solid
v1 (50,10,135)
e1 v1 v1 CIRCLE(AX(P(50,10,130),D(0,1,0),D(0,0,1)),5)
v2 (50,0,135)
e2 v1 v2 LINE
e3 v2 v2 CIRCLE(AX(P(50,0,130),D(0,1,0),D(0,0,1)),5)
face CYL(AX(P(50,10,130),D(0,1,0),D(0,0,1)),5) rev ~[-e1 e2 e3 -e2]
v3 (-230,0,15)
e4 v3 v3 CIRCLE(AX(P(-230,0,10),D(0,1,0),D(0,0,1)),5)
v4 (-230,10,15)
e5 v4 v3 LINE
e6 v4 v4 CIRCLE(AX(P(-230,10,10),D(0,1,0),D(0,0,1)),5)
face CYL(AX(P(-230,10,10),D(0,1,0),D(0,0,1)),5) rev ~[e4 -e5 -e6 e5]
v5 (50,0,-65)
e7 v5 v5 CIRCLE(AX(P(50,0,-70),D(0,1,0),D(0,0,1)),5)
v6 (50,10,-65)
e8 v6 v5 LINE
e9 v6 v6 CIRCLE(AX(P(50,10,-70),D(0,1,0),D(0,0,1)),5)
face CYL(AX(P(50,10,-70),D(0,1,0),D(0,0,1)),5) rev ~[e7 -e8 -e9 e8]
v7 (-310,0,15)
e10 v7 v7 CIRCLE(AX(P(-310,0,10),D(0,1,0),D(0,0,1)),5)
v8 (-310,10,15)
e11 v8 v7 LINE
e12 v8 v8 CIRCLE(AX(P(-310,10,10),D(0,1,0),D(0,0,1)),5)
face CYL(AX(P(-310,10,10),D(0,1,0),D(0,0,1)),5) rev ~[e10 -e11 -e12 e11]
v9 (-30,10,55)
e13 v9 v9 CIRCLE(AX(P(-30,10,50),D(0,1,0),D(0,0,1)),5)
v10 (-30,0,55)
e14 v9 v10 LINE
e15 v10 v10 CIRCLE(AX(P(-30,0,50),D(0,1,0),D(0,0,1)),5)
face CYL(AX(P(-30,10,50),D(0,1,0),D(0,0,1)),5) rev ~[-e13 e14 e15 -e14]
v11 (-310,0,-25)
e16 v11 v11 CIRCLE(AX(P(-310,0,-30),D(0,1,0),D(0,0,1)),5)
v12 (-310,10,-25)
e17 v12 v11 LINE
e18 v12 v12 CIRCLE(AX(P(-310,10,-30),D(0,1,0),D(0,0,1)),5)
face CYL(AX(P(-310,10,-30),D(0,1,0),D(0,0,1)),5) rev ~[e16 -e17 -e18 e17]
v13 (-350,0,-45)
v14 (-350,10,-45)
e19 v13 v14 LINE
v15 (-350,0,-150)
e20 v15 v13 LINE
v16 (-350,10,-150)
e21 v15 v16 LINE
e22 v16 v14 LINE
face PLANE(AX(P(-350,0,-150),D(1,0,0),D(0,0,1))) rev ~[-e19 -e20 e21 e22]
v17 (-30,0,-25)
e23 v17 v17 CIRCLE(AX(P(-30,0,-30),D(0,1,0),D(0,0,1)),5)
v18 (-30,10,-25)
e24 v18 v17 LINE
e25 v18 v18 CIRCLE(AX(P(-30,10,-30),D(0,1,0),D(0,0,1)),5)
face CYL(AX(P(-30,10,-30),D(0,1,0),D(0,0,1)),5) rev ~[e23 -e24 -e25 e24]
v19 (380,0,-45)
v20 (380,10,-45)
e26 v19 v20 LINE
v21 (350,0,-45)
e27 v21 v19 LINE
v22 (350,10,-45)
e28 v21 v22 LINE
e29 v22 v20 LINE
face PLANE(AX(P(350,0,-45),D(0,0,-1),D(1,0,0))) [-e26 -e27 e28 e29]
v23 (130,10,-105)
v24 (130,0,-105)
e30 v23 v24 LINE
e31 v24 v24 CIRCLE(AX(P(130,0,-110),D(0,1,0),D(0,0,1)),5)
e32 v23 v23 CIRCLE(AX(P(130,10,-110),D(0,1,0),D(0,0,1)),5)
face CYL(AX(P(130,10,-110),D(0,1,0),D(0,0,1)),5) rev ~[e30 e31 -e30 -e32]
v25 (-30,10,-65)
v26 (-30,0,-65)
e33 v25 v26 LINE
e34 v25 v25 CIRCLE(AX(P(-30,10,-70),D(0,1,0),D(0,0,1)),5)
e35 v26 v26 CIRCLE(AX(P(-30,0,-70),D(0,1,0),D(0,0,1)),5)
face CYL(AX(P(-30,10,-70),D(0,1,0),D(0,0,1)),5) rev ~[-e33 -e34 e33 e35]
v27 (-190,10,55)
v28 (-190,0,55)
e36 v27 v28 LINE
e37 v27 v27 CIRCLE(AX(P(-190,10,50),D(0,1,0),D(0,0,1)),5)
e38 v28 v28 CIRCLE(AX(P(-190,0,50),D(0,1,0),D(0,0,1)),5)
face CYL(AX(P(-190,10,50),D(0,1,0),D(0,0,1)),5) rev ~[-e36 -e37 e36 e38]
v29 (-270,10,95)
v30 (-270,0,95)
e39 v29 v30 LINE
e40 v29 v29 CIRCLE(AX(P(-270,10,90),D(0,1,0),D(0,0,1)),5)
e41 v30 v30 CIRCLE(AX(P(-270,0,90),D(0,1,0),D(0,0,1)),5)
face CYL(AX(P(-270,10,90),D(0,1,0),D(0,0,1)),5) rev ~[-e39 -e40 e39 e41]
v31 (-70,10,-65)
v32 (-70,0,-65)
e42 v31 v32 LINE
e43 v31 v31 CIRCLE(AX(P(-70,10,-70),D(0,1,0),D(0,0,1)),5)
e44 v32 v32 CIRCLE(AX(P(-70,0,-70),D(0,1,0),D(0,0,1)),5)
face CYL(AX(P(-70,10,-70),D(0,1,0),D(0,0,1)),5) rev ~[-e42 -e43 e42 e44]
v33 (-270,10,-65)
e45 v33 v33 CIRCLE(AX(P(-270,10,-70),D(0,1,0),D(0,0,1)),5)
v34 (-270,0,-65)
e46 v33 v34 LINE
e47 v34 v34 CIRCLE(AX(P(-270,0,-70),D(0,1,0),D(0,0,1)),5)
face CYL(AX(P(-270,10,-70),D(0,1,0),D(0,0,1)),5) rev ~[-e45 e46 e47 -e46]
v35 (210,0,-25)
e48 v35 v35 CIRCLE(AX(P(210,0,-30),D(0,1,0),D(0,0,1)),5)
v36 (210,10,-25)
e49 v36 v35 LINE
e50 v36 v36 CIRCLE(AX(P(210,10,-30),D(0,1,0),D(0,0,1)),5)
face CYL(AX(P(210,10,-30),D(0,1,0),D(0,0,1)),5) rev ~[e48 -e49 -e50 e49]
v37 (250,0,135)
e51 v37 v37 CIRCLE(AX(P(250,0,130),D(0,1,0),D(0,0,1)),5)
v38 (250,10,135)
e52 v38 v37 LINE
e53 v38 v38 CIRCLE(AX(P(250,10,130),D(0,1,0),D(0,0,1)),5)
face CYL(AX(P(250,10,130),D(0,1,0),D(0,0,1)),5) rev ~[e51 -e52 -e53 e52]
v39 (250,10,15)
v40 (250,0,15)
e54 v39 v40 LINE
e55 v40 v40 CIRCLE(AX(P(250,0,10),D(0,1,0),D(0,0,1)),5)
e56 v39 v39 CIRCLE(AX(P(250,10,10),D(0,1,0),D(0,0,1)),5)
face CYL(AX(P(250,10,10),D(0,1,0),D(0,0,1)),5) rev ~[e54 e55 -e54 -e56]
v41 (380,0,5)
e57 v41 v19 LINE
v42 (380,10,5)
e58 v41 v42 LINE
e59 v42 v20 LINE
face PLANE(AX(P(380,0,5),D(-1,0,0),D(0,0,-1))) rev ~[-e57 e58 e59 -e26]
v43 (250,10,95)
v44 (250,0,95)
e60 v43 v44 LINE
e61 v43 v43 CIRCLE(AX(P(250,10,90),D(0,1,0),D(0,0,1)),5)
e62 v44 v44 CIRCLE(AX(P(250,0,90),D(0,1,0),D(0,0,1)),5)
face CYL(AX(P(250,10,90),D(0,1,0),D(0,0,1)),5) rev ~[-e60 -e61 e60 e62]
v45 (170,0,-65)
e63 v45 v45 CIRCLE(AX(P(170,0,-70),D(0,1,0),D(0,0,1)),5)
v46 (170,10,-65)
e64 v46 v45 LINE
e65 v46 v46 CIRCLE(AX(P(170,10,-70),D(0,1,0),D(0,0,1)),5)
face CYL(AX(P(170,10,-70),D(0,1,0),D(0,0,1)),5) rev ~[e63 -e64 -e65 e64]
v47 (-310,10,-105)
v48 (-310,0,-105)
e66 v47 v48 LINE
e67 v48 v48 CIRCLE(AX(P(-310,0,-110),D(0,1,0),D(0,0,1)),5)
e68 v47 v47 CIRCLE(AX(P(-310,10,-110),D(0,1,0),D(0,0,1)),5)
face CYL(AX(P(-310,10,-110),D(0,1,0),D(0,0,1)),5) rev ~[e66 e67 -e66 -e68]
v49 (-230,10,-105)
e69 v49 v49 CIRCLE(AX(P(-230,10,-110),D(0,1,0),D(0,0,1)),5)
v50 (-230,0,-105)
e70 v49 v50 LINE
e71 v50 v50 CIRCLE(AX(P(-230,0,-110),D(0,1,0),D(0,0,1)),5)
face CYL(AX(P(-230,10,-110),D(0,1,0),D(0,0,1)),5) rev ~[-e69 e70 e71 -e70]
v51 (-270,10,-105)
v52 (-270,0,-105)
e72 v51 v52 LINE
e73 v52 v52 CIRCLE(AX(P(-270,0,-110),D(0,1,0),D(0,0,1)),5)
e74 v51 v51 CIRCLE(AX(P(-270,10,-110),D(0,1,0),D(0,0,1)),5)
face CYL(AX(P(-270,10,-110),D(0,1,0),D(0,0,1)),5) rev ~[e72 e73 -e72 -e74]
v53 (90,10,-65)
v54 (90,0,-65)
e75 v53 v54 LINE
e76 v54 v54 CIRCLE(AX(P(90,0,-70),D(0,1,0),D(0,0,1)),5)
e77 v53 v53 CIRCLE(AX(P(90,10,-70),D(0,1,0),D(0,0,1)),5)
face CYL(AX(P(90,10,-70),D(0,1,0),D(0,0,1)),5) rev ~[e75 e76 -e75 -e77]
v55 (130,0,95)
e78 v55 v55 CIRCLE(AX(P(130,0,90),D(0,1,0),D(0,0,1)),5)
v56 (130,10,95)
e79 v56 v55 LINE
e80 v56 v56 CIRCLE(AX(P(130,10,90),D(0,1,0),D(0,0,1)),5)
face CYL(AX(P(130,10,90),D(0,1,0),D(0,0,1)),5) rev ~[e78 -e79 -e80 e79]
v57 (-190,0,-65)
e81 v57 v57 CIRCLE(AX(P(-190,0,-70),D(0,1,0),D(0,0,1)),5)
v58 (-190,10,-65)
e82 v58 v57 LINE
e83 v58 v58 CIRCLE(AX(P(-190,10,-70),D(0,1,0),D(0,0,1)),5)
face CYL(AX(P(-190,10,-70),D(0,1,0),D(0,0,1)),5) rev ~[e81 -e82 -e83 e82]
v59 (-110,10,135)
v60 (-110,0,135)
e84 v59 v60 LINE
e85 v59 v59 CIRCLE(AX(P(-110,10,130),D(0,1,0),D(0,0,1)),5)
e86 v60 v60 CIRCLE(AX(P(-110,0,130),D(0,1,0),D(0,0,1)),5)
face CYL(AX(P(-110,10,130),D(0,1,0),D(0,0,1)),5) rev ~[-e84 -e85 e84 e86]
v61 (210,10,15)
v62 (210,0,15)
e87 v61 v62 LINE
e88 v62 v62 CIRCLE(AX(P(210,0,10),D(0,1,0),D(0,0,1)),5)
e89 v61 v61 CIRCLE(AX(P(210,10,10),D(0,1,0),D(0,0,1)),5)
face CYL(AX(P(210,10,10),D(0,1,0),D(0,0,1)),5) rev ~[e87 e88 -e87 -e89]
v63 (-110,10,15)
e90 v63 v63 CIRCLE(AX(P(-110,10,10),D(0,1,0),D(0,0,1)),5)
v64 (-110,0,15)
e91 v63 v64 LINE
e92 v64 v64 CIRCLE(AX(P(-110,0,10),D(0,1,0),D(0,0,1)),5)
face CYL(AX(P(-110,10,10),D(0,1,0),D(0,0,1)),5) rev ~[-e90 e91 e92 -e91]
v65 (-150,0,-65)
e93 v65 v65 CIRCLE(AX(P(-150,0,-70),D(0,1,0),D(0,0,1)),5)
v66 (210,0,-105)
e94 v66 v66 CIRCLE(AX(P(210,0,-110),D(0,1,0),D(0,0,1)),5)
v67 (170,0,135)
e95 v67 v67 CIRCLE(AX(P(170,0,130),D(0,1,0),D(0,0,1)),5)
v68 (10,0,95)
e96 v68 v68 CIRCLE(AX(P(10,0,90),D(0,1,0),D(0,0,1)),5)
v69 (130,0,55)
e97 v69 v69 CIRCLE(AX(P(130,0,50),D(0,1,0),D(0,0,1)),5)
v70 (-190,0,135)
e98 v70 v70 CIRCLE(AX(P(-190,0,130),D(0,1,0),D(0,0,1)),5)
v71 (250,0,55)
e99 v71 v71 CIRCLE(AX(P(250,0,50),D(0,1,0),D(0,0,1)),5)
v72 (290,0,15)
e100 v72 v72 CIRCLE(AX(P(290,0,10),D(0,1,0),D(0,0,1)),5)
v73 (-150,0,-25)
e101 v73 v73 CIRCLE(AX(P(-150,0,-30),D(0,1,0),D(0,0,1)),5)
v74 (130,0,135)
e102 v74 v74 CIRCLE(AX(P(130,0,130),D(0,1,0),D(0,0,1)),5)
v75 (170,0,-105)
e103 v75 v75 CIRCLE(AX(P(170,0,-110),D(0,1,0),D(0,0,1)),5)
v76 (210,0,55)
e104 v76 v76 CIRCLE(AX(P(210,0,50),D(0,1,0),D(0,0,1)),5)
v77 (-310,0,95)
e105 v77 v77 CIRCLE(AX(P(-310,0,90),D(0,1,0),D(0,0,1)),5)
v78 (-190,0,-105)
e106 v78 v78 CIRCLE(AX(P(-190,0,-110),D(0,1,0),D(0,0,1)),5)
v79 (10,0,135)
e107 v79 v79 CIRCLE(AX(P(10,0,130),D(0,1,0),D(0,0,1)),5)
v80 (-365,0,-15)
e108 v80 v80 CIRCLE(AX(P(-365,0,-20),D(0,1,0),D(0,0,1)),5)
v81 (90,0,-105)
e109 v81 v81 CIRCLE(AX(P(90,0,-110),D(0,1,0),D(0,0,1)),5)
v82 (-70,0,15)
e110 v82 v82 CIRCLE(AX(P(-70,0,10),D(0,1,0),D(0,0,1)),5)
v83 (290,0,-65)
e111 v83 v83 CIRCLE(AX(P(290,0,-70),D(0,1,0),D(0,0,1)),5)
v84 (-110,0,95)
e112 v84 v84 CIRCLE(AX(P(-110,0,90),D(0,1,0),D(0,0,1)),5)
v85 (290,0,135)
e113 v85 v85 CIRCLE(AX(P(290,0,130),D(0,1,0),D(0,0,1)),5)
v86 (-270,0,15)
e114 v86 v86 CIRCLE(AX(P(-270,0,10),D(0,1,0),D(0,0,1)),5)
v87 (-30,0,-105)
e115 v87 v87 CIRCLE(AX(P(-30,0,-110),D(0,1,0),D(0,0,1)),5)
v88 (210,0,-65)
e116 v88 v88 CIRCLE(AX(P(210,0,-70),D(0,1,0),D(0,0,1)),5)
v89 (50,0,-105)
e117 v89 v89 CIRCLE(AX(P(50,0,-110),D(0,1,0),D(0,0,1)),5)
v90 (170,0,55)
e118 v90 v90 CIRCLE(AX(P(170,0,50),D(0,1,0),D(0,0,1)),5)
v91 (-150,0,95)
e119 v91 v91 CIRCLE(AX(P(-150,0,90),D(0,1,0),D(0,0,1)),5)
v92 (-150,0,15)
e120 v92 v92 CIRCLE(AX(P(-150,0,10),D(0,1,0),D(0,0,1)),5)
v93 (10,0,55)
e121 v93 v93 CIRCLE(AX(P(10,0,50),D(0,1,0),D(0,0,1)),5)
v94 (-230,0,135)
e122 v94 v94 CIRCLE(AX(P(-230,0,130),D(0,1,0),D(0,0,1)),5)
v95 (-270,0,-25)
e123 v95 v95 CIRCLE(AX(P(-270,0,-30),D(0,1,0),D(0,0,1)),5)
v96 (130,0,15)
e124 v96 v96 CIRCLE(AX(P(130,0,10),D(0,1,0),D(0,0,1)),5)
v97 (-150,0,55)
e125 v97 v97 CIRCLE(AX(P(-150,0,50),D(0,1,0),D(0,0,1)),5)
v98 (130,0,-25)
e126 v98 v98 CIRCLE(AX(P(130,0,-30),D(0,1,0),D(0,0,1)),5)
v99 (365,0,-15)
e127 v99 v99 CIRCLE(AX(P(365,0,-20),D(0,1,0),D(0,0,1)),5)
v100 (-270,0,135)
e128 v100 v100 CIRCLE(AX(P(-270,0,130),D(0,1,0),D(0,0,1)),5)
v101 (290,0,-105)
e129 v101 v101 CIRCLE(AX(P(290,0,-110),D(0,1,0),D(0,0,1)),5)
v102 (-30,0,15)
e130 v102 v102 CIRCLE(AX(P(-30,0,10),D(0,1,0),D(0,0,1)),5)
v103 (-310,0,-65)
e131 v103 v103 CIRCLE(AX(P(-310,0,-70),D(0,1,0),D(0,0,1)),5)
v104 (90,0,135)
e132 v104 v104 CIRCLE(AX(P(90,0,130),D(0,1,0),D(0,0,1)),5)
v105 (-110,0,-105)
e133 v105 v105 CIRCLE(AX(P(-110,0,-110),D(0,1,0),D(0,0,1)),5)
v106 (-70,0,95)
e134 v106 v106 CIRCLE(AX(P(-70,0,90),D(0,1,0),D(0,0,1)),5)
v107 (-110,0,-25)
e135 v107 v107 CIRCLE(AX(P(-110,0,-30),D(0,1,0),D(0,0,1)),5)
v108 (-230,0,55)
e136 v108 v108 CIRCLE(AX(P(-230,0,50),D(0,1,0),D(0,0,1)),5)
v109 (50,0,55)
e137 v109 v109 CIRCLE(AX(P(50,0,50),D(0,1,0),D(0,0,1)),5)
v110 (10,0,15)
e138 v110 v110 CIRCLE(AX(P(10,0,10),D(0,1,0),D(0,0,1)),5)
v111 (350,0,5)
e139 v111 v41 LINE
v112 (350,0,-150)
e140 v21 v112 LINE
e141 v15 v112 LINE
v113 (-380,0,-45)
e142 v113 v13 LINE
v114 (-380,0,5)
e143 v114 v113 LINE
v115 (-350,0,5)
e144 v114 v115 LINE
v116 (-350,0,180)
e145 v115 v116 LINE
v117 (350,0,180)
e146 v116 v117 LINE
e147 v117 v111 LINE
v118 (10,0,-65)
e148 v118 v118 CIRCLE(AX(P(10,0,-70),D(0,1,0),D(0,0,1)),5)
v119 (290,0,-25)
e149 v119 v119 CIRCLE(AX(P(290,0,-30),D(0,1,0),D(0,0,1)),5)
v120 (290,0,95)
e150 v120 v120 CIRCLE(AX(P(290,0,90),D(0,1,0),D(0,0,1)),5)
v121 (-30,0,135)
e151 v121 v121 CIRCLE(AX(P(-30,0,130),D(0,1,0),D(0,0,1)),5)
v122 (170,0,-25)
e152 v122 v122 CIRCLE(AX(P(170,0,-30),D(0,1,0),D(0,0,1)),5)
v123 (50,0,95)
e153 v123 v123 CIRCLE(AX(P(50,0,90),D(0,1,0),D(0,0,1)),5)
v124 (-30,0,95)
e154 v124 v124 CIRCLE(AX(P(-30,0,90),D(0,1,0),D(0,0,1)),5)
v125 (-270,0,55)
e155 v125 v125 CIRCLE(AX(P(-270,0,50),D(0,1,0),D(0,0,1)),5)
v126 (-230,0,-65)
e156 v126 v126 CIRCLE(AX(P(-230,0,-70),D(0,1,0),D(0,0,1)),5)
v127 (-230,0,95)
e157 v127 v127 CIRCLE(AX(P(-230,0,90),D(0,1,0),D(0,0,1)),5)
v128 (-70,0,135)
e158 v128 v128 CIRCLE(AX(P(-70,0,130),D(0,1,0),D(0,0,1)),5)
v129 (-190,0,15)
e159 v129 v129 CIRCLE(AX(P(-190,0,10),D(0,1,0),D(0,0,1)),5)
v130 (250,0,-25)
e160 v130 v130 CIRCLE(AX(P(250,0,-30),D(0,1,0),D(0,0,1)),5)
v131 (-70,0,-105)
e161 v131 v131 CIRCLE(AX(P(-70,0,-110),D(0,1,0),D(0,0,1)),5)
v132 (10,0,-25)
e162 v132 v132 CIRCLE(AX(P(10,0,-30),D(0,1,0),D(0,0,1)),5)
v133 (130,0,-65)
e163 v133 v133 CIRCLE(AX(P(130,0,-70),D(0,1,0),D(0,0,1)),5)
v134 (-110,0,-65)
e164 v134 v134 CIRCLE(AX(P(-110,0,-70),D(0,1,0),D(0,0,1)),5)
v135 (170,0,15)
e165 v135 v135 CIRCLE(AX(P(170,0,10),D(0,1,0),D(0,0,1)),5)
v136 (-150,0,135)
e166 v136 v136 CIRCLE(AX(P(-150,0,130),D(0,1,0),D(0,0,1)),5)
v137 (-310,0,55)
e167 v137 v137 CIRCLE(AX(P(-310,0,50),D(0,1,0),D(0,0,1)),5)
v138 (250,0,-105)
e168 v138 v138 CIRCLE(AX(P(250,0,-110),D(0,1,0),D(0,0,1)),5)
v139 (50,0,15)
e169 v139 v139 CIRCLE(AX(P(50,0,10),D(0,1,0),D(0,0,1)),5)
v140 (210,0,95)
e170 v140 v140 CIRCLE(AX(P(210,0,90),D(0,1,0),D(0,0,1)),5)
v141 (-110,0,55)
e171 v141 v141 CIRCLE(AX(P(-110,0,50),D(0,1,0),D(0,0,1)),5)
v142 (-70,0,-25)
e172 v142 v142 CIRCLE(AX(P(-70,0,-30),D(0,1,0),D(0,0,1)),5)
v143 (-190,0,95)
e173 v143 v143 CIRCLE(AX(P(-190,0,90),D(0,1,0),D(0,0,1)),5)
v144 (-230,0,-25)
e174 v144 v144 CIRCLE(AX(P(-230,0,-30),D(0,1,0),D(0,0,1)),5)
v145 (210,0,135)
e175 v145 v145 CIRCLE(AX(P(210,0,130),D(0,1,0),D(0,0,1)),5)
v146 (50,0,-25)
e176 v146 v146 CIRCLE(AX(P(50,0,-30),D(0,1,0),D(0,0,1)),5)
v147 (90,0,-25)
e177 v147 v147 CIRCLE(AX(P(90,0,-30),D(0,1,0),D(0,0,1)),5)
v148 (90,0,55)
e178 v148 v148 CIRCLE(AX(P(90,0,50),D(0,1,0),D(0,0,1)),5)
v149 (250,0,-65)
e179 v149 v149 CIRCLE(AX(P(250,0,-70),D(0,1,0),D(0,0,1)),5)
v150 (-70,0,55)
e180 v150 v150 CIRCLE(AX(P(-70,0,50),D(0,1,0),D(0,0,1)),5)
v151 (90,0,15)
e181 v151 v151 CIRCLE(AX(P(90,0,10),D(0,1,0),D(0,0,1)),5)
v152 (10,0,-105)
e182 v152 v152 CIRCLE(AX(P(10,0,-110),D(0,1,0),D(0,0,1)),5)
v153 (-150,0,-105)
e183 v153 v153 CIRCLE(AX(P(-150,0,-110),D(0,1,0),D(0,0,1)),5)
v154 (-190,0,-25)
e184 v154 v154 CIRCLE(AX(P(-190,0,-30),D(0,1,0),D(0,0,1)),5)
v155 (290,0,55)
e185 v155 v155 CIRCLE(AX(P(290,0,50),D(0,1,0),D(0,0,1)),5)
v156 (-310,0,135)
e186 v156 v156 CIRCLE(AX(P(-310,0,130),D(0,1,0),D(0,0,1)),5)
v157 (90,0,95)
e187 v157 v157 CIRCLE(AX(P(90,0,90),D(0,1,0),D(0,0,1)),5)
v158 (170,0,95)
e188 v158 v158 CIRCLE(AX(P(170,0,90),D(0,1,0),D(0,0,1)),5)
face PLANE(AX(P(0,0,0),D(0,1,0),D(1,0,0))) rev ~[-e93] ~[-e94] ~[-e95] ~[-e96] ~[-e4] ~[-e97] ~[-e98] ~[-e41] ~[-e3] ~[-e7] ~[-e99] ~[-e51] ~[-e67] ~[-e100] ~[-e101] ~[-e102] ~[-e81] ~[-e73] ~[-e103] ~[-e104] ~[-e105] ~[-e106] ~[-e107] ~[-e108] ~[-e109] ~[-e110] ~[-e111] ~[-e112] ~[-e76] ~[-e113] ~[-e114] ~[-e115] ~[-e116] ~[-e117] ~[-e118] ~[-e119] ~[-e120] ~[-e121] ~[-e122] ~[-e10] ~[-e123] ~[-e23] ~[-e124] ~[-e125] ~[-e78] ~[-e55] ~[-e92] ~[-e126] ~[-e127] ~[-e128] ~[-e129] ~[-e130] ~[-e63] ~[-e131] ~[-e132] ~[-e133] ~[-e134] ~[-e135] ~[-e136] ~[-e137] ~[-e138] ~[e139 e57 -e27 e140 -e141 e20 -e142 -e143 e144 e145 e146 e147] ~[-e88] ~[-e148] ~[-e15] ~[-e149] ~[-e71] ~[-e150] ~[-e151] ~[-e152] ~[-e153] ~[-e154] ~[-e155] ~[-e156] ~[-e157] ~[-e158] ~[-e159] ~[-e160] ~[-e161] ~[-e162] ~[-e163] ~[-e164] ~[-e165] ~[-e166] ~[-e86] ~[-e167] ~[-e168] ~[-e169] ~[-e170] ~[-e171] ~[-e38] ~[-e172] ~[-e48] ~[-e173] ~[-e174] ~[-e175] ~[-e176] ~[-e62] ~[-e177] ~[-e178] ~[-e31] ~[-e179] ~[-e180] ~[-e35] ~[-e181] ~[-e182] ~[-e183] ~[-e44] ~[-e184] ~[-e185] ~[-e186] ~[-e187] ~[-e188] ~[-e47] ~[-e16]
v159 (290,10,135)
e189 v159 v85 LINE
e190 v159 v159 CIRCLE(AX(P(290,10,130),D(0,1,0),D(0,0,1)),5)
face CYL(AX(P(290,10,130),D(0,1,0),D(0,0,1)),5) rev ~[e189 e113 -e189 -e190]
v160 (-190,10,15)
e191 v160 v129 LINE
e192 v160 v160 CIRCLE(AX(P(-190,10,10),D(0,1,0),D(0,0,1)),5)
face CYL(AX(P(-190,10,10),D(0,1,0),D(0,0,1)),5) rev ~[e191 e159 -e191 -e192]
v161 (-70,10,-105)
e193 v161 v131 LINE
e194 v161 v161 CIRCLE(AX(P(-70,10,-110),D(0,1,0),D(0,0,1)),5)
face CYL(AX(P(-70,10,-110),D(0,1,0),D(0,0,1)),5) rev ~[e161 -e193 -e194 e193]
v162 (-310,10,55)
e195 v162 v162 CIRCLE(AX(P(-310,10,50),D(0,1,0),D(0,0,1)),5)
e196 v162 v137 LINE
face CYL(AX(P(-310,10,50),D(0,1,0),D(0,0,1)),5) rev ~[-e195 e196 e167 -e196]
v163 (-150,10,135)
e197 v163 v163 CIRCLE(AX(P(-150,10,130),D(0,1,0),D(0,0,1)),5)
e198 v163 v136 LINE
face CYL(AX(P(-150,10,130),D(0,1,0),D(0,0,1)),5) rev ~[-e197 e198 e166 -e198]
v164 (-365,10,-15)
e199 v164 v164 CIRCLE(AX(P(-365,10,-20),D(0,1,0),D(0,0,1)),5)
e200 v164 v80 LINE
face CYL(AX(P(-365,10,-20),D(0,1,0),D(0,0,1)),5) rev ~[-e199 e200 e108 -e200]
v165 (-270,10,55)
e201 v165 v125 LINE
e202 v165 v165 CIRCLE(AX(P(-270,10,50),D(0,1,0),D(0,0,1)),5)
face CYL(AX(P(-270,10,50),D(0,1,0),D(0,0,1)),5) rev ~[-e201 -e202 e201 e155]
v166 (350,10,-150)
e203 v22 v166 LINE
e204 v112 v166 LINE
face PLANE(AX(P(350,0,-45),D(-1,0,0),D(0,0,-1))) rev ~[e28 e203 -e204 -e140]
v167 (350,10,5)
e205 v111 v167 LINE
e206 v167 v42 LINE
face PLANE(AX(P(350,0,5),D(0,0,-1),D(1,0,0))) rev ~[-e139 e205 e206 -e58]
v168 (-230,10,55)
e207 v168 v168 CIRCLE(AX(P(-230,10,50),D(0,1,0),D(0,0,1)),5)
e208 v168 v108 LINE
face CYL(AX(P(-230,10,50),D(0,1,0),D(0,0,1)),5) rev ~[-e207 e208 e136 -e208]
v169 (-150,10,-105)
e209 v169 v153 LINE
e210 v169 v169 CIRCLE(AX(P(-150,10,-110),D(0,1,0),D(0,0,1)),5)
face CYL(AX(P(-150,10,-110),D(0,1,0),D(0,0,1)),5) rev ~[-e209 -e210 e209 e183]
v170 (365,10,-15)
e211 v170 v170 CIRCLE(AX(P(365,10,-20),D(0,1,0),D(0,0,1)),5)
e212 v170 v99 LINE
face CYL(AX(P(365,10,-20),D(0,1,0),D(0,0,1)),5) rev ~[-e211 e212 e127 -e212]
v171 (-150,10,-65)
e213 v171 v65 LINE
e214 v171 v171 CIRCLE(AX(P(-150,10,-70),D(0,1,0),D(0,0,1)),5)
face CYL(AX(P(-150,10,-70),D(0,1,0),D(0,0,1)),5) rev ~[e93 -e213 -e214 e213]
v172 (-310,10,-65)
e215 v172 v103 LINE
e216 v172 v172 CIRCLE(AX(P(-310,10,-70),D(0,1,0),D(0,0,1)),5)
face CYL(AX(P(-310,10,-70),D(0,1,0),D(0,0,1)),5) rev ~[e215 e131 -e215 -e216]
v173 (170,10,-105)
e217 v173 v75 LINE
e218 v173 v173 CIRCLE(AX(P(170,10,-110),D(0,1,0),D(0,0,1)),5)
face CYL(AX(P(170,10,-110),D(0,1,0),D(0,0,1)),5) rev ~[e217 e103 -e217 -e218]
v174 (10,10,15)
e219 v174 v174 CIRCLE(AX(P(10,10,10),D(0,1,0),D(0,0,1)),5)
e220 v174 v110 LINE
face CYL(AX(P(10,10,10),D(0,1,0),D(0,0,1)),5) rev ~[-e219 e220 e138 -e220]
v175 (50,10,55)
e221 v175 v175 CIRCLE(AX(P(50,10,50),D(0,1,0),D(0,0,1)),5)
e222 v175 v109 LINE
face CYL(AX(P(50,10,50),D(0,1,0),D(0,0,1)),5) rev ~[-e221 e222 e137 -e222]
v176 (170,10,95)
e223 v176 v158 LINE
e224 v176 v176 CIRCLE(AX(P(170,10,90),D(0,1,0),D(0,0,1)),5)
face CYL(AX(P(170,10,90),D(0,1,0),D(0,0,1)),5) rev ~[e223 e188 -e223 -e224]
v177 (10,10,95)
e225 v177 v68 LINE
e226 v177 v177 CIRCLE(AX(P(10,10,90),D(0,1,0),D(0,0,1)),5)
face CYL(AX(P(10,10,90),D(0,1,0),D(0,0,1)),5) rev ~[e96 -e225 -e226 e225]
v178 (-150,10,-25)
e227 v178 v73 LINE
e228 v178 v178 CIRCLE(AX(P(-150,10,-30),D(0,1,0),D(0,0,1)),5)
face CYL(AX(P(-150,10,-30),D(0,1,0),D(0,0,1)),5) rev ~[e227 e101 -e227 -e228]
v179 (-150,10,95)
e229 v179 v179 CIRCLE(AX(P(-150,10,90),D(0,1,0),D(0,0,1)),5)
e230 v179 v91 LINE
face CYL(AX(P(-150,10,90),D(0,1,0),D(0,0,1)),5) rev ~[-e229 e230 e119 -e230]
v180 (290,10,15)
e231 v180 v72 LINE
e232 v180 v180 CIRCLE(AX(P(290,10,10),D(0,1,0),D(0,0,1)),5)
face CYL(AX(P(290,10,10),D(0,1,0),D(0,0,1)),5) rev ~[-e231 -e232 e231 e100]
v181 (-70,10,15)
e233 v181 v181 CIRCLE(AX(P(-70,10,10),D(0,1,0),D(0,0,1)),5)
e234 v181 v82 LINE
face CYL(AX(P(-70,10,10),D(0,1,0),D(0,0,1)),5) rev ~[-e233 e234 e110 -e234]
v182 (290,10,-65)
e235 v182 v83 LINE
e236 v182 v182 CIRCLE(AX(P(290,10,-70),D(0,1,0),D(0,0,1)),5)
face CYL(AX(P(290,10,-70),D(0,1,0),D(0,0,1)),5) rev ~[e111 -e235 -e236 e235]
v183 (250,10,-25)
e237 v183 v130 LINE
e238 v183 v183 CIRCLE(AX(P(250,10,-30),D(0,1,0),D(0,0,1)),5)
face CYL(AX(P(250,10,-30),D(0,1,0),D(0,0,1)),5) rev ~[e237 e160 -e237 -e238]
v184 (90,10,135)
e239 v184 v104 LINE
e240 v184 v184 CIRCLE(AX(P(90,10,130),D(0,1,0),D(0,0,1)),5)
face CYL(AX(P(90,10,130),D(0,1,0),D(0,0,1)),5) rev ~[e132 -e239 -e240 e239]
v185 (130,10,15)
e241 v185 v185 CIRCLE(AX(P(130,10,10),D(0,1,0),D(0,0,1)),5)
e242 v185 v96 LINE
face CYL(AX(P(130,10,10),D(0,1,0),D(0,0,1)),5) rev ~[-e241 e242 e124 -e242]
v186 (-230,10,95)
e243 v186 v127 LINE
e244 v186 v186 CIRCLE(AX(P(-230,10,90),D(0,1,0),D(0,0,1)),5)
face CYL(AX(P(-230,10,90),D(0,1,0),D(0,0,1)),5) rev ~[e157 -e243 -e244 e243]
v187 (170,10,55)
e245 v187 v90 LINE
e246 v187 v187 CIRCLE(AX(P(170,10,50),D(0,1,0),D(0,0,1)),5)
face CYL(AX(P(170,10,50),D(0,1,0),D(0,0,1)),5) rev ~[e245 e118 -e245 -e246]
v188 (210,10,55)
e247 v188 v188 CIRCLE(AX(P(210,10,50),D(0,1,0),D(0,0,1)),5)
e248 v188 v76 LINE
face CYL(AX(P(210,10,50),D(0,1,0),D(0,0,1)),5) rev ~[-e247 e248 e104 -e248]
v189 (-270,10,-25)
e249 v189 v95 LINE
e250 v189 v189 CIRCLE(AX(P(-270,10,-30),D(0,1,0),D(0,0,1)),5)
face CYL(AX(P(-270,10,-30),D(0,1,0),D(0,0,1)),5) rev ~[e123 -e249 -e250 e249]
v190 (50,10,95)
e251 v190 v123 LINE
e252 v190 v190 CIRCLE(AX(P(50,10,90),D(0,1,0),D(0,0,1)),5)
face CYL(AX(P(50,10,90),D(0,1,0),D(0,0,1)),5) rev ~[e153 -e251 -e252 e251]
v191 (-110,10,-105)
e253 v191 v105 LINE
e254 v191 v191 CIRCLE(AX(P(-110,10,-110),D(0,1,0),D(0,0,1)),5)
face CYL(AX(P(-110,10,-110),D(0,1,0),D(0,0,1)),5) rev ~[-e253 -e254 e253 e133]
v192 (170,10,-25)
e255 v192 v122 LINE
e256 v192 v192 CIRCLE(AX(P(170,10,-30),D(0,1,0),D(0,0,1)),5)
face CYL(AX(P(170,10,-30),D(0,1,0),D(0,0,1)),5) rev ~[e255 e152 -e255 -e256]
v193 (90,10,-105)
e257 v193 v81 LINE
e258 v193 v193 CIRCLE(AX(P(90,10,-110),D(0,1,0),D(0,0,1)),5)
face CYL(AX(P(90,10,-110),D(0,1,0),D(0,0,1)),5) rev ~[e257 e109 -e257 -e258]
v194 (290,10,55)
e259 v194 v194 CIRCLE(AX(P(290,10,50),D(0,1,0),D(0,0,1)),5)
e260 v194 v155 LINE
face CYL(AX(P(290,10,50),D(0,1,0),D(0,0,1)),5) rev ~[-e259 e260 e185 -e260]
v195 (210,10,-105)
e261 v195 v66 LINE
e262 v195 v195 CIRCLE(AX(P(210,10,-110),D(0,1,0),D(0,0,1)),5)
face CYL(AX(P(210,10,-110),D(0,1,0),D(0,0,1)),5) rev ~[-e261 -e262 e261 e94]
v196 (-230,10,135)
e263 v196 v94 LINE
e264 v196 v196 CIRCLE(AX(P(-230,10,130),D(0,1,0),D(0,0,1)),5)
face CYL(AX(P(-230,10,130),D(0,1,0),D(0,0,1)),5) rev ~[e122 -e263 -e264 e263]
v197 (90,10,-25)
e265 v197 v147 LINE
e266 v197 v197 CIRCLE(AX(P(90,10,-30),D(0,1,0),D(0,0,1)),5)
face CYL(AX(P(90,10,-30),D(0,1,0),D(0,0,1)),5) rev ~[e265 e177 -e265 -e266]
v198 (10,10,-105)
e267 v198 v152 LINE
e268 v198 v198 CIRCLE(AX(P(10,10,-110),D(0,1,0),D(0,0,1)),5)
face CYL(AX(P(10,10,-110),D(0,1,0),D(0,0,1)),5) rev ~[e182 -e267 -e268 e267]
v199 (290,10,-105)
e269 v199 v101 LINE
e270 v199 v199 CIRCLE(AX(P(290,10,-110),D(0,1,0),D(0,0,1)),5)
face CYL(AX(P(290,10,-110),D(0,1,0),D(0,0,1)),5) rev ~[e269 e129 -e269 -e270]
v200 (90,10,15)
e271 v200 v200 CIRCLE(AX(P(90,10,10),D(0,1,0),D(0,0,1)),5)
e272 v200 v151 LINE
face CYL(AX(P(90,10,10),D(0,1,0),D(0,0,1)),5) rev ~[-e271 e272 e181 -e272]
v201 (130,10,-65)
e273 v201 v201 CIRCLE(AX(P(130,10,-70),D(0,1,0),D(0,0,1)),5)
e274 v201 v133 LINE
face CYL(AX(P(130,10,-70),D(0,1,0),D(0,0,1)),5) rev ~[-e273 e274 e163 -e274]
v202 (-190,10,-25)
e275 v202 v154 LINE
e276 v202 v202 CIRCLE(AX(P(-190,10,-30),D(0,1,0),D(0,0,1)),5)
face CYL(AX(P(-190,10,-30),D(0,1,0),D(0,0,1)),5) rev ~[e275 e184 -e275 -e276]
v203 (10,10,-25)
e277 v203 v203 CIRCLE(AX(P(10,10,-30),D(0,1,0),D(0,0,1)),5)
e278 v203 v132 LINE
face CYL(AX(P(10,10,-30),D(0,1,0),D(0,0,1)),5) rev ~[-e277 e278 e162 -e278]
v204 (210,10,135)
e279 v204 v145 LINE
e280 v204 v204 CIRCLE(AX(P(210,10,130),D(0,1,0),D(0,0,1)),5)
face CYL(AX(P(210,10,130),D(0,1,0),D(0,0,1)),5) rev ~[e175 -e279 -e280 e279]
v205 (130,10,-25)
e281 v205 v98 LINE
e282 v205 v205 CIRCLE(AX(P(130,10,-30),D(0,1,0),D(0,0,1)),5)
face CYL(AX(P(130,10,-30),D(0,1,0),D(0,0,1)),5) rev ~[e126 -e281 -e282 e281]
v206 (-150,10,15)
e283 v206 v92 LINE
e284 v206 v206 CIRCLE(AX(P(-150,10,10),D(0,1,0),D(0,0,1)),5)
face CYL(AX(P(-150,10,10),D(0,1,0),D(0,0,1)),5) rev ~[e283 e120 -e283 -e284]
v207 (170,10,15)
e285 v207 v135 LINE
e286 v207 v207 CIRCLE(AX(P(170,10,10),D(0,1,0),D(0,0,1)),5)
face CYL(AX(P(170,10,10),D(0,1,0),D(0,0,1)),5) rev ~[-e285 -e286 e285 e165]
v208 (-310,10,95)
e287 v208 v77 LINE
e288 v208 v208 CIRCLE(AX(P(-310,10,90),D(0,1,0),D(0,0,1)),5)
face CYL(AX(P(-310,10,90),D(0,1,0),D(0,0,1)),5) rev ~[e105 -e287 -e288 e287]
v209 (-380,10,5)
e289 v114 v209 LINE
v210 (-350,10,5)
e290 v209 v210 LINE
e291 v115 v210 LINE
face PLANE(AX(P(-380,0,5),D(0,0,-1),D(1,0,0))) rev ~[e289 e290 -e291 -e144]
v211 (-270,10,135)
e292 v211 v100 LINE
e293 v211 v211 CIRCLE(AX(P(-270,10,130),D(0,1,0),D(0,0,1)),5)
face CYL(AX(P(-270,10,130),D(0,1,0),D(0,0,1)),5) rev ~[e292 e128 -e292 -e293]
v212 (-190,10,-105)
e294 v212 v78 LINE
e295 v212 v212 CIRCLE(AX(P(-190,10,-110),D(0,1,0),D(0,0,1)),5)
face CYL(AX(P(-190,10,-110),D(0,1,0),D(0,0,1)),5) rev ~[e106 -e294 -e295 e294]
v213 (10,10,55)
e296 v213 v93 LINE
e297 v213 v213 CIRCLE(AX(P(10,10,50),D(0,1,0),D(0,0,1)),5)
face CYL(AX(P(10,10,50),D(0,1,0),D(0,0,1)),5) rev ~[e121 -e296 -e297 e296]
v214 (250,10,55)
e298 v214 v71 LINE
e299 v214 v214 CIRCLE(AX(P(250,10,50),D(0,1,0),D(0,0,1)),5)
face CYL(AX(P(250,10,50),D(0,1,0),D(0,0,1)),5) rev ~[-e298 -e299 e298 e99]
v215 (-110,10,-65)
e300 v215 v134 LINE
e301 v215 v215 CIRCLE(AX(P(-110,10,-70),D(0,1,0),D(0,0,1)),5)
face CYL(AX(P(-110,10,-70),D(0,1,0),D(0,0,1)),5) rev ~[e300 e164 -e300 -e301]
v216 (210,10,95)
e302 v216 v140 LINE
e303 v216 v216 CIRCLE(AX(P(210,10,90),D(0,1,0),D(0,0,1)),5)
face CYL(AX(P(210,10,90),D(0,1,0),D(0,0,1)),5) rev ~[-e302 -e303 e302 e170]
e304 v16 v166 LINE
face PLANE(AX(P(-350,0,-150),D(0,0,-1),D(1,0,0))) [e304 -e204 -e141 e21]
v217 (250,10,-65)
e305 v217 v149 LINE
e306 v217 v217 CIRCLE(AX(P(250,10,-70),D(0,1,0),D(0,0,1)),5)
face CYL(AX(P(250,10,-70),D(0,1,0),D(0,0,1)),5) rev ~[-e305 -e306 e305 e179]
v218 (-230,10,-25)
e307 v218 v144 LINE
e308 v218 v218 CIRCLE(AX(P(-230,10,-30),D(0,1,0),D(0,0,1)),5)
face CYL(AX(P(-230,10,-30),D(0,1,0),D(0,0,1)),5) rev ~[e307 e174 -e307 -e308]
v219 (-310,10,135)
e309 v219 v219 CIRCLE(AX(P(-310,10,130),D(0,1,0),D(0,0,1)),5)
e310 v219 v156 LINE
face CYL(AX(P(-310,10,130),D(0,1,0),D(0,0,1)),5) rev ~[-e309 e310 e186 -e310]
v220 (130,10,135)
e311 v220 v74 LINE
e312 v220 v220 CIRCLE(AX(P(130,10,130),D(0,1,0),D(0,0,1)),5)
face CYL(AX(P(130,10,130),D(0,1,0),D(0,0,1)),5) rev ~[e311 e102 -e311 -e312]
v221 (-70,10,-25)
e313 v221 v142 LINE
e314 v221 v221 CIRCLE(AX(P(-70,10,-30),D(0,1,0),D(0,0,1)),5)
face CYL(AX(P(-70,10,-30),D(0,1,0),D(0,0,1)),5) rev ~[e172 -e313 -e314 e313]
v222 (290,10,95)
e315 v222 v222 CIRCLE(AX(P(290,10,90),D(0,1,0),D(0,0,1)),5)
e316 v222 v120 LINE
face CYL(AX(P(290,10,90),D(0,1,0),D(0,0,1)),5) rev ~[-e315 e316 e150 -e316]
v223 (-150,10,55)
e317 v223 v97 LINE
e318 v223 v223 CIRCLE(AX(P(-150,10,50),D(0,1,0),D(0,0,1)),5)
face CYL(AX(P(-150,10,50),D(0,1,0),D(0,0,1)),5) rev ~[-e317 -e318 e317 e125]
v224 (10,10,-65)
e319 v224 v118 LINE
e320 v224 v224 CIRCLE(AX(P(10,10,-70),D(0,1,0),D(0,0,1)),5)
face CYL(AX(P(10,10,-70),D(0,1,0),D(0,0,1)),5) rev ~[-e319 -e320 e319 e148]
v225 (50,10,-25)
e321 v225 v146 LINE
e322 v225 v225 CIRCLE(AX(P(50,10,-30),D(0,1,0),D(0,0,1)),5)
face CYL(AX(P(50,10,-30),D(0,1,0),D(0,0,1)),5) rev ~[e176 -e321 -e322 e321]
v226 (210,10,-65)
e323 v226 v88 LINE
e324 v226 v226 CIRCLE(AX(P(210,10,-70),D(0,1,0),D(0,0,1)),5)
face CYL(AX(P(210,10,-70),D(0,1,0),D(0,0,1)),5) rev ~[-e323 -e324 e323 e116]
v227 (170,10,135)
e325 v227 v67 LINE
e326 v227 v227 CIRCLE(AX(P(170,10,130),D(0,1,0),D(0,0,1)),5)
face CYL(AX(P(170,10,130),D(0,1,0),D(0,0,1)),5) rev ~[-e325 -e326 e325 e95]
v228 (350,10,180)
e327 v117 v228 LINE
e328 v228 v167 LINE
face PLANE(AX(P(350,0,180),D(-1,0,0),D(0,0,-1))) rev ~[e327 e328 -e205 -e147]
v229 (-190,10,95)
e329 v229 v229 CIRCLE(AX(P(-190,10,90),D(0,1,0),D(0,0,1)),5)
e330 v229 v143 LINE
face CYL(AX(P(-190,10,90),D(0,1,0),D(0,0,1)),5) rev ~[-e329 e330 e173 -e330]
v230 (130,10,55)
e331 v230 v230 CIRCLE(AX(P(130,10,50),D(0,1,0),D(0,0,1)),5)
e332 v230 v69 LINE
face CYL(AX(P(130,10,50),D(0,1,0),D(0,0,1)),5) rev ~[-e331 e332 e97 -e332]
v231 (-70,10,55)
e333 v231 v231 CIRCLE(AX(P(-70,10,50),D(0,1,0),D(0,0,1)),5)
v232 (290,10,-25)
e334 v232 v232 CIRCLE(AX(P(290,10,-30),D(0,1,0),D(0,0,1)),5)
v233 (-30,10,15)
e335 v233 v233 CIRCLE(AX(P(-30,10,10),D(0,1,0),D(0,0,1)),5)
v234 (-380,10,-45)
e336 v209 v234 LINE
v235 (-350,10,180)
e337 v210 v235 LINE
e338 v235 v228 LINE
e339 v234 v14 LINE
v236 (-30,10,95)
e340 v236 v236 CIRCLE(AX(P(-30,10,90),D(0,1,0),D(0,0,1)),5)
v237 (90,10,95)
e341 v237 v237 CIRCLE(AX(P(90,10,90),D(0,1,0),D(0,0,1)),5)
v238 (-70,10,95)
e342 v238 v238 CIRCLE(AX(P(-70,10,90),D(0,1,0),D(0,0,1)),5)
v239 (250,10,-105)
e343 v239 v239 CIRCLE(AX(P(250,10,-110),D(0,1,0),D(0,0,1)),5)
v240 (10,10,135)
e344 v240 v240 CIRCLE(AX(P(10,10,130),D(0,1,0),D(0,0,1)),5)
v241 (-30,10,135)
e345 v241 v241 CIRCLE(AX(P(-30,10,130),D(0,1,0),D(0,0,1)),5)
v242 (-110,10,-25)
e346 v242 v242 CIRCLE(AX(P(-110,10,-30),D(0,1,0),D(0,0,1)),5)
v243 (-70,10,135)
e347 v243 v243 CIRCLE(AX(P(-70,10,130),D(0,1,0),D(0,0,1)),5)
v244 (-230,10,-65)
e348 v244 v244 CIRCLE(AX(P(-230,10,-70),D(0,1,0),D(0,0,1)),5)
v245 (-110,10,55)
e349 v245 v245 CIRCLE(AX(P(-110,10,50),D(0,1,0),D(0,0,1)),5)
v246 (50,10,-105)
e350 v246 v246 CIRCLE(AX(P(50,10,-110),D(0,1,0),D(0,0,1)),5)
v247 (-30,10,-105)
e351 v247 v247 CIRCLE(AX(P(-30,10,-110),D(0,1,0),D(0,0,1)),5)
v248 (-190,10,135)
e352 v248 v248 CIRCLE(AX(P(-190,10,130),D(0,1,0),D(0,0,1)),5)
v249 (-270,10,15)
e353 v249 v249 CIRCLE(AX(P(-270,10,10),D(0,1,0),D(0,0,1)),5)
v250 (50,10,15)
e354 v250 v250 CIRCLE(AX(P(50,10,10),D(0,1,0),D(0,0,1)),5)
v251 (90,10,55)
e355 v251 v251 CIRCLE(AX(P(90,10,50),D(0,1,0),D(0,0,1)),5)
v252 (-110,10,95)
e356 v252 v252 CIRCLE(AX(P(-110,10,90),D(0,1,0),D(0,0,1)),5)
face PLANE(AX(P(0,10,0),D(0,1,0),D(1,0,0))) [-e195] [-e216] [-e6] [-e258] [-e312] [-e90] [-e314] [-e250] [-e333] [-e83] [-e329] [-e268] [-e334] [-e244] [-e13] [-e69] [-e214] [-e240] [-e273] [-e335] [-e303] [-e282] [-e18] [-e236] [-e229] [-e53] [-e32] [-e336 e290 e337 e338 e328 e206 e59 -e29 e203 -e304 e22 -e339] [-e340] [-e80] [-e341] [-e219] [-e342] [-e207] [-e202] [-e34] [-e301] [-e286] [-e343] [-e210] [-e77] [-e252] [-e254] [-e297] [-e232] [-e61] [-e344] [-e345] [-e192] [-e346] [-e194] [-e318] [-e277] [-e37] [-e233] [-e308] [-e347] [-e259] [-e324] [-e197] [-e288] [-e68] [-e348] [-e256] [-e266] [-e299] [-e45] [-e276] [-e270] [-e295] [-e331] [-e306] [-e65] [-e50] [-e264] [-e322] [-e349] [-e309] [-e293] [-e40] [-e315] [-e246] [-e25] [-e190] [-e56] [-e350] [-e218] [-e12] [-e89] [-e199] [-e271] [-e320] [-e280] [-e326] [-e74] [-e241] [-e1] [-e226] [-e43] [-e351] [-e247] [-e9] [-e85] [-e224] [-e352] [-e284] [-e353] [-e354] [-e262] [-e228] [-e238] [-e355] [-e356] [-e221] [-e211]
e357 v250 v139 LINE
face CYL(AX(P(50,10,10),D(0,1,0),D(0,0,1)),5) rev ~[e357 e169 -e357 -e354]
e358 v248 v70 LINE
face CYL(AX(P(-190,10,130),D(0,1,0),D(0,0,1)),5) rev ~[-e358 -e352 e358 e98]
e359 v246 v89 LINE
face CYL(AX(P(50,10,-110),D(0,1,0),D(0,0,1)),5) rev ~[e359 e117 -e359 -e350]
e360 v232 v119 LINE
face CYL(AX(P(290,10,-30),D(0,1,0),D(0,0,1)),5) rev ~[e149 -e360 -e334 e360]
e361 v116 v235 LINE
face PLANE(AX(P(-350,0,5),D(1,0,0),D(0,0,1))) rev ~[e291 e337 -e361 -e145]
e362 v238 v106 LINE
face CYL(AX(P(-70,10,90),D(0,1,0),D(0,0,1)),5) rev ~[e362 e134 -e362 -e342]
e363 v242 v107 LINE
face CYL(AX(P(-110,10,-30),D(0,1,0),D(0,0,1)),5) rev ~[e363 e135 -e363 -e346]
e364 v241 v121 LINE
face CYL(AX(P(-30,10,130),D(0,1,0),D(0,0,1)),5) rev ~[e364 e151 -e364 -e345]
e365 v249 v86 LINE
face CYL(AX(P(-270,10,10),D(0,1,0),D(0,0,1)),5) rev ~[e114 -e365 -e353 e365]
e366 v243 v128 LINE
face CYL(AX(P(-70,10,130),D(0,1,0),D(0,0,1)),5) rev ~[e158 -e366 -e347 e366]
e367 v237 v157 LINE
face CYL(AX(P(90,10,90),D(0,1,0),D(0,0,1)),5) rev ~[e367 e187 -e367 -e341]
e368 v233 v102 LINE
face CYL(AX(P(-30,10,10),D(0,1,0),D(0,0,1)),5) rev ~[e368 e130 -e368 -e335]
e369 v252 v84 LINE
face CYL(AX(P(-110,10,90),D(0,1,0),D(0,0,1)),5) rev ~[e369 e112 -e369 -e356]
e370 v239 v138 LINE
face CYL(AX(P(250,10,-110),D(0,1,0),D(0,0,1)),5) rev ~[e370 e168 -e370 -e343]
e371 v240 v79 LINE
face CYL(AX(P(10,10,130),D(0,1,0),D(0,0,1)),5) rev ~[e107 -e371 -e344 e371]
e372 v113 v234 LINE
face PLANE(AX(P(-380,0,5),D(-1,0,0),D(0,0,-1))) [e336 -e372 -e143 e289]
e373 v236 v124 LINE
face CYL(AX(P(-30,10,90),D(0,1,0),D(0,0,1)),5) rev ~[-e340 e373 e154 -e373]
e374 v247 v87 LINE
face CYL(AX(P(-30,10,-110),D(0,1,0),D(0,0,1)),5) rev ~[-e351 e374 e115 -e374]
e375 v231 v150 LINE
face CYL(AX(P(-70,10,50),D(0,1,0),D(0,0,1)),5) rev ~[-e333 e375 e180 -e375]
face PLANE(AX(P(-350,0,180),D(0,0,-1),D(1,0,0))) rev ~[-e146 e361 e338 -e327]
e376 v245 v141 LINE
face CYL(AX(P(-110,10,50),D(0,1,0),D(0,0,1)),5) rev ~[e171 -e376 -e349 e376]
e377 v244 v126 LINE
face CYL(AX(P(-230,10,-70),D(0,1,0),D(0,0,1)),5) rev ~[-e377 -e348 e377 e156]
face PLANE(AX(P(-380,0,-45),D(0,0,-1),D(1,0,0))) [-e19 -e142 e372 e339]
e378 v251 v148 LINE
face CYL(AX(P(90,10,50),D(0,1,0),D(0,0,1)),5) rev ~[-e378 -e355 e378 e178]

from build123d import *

# Parameters (mm, degrees)
CROQUIS3_W              = 700
CROQUIS3_H              = 300
CROQUIS3_H_2            = 30
CROQUIS3_W_2            = 30
CROQUIS3_H_3            = 50
SALIENTE_EXTRUIR1_DEPTH = 10
CROQUIS5_R              = 5
CORTAR_EXTRUIR1_DEPTH   = 10
MATRIZL1_COUNT          = 16
MATRIZL1_PITCH          = 40
MATRIZL1_COUNT_DIR2     = 7
MATRIZL1_PITCH_DIR2     = 40
CROQUIS6_R              = 5
CORTAR_EXTRUIR2_DEPTH   = 10


with BuildPart() as part:
    # Croquis3 → Saliente-Extruir1 (new body)
    with BuildSketch(Plane(origin=(0, 0, 0), x_dir=(1, 0, 0), z_dir=(0, 1, 0))):
        Rectangle(CROQUIS3_W, CROQUIS3_H)
        with Locations((0, -165)):
            Rectangle(CROQUIS3_W, CROQUIS3_H_2)
        with Locations((365, 20)):
            Rectangle(CROQUIS3_W_2, CROQUIS3_H_3)
        with Locations((-365, 20)):
            Rectangle(CROQUIS3_W_2, CROQUIS3_H_3)
    extrude(amount=SALIENTE_EXTRUIR1_DEPTH)

    # Croquis5 → Cortar-Extruir1 (cut)
    with BuildSketch(Plane(origin=(0, 10, 0), x_dir=(1, 0, 0), z_dir=(0, 1, 0))):
        with Locations(Location((-310, 110, 0), (0, 0, 270))):
            Circle(CROQUIS5_R)
    cortar_extruir1 = extrude(amount=-CORTAR_EXTRUIR1_DEPTH, mode=Mode.SUBTRACT)

    # MatrizL1: Cortar-Extruir1 16 × 7
    with Locations(*[(i * MATRIZL1_PITCH, 0, j * MATRIZL1_PITCH_DIR2) for i in range(MATRIZL1_COUNT) for j in range(MATRIZL1_COUNT_DIR2) if (i, j) != (0, 0)]):
        add(cortar_extruir1, mode=Mode.SUBTRACT)

    # Croquis6 → Cortar-Extruir2 (cut)
    with BuildSketch(Plane(origin=(0, 10, 0), x_dir=(1, 0, 0), z_dir=(0, 1, 0))):
        with Locations(Location((-365, 20, 0), (0, 0, 270))):
            Circle(CROQUIS6_R)
        with Locations(Location((365, 20, 0), (0, 0, 270))):
            Circle(CROQUIS6_R)
    extrude(amount=-CORTAR_EXTRUIR2_DEPTH, mode=Mode.SUBTRACT)


solid = part.part
